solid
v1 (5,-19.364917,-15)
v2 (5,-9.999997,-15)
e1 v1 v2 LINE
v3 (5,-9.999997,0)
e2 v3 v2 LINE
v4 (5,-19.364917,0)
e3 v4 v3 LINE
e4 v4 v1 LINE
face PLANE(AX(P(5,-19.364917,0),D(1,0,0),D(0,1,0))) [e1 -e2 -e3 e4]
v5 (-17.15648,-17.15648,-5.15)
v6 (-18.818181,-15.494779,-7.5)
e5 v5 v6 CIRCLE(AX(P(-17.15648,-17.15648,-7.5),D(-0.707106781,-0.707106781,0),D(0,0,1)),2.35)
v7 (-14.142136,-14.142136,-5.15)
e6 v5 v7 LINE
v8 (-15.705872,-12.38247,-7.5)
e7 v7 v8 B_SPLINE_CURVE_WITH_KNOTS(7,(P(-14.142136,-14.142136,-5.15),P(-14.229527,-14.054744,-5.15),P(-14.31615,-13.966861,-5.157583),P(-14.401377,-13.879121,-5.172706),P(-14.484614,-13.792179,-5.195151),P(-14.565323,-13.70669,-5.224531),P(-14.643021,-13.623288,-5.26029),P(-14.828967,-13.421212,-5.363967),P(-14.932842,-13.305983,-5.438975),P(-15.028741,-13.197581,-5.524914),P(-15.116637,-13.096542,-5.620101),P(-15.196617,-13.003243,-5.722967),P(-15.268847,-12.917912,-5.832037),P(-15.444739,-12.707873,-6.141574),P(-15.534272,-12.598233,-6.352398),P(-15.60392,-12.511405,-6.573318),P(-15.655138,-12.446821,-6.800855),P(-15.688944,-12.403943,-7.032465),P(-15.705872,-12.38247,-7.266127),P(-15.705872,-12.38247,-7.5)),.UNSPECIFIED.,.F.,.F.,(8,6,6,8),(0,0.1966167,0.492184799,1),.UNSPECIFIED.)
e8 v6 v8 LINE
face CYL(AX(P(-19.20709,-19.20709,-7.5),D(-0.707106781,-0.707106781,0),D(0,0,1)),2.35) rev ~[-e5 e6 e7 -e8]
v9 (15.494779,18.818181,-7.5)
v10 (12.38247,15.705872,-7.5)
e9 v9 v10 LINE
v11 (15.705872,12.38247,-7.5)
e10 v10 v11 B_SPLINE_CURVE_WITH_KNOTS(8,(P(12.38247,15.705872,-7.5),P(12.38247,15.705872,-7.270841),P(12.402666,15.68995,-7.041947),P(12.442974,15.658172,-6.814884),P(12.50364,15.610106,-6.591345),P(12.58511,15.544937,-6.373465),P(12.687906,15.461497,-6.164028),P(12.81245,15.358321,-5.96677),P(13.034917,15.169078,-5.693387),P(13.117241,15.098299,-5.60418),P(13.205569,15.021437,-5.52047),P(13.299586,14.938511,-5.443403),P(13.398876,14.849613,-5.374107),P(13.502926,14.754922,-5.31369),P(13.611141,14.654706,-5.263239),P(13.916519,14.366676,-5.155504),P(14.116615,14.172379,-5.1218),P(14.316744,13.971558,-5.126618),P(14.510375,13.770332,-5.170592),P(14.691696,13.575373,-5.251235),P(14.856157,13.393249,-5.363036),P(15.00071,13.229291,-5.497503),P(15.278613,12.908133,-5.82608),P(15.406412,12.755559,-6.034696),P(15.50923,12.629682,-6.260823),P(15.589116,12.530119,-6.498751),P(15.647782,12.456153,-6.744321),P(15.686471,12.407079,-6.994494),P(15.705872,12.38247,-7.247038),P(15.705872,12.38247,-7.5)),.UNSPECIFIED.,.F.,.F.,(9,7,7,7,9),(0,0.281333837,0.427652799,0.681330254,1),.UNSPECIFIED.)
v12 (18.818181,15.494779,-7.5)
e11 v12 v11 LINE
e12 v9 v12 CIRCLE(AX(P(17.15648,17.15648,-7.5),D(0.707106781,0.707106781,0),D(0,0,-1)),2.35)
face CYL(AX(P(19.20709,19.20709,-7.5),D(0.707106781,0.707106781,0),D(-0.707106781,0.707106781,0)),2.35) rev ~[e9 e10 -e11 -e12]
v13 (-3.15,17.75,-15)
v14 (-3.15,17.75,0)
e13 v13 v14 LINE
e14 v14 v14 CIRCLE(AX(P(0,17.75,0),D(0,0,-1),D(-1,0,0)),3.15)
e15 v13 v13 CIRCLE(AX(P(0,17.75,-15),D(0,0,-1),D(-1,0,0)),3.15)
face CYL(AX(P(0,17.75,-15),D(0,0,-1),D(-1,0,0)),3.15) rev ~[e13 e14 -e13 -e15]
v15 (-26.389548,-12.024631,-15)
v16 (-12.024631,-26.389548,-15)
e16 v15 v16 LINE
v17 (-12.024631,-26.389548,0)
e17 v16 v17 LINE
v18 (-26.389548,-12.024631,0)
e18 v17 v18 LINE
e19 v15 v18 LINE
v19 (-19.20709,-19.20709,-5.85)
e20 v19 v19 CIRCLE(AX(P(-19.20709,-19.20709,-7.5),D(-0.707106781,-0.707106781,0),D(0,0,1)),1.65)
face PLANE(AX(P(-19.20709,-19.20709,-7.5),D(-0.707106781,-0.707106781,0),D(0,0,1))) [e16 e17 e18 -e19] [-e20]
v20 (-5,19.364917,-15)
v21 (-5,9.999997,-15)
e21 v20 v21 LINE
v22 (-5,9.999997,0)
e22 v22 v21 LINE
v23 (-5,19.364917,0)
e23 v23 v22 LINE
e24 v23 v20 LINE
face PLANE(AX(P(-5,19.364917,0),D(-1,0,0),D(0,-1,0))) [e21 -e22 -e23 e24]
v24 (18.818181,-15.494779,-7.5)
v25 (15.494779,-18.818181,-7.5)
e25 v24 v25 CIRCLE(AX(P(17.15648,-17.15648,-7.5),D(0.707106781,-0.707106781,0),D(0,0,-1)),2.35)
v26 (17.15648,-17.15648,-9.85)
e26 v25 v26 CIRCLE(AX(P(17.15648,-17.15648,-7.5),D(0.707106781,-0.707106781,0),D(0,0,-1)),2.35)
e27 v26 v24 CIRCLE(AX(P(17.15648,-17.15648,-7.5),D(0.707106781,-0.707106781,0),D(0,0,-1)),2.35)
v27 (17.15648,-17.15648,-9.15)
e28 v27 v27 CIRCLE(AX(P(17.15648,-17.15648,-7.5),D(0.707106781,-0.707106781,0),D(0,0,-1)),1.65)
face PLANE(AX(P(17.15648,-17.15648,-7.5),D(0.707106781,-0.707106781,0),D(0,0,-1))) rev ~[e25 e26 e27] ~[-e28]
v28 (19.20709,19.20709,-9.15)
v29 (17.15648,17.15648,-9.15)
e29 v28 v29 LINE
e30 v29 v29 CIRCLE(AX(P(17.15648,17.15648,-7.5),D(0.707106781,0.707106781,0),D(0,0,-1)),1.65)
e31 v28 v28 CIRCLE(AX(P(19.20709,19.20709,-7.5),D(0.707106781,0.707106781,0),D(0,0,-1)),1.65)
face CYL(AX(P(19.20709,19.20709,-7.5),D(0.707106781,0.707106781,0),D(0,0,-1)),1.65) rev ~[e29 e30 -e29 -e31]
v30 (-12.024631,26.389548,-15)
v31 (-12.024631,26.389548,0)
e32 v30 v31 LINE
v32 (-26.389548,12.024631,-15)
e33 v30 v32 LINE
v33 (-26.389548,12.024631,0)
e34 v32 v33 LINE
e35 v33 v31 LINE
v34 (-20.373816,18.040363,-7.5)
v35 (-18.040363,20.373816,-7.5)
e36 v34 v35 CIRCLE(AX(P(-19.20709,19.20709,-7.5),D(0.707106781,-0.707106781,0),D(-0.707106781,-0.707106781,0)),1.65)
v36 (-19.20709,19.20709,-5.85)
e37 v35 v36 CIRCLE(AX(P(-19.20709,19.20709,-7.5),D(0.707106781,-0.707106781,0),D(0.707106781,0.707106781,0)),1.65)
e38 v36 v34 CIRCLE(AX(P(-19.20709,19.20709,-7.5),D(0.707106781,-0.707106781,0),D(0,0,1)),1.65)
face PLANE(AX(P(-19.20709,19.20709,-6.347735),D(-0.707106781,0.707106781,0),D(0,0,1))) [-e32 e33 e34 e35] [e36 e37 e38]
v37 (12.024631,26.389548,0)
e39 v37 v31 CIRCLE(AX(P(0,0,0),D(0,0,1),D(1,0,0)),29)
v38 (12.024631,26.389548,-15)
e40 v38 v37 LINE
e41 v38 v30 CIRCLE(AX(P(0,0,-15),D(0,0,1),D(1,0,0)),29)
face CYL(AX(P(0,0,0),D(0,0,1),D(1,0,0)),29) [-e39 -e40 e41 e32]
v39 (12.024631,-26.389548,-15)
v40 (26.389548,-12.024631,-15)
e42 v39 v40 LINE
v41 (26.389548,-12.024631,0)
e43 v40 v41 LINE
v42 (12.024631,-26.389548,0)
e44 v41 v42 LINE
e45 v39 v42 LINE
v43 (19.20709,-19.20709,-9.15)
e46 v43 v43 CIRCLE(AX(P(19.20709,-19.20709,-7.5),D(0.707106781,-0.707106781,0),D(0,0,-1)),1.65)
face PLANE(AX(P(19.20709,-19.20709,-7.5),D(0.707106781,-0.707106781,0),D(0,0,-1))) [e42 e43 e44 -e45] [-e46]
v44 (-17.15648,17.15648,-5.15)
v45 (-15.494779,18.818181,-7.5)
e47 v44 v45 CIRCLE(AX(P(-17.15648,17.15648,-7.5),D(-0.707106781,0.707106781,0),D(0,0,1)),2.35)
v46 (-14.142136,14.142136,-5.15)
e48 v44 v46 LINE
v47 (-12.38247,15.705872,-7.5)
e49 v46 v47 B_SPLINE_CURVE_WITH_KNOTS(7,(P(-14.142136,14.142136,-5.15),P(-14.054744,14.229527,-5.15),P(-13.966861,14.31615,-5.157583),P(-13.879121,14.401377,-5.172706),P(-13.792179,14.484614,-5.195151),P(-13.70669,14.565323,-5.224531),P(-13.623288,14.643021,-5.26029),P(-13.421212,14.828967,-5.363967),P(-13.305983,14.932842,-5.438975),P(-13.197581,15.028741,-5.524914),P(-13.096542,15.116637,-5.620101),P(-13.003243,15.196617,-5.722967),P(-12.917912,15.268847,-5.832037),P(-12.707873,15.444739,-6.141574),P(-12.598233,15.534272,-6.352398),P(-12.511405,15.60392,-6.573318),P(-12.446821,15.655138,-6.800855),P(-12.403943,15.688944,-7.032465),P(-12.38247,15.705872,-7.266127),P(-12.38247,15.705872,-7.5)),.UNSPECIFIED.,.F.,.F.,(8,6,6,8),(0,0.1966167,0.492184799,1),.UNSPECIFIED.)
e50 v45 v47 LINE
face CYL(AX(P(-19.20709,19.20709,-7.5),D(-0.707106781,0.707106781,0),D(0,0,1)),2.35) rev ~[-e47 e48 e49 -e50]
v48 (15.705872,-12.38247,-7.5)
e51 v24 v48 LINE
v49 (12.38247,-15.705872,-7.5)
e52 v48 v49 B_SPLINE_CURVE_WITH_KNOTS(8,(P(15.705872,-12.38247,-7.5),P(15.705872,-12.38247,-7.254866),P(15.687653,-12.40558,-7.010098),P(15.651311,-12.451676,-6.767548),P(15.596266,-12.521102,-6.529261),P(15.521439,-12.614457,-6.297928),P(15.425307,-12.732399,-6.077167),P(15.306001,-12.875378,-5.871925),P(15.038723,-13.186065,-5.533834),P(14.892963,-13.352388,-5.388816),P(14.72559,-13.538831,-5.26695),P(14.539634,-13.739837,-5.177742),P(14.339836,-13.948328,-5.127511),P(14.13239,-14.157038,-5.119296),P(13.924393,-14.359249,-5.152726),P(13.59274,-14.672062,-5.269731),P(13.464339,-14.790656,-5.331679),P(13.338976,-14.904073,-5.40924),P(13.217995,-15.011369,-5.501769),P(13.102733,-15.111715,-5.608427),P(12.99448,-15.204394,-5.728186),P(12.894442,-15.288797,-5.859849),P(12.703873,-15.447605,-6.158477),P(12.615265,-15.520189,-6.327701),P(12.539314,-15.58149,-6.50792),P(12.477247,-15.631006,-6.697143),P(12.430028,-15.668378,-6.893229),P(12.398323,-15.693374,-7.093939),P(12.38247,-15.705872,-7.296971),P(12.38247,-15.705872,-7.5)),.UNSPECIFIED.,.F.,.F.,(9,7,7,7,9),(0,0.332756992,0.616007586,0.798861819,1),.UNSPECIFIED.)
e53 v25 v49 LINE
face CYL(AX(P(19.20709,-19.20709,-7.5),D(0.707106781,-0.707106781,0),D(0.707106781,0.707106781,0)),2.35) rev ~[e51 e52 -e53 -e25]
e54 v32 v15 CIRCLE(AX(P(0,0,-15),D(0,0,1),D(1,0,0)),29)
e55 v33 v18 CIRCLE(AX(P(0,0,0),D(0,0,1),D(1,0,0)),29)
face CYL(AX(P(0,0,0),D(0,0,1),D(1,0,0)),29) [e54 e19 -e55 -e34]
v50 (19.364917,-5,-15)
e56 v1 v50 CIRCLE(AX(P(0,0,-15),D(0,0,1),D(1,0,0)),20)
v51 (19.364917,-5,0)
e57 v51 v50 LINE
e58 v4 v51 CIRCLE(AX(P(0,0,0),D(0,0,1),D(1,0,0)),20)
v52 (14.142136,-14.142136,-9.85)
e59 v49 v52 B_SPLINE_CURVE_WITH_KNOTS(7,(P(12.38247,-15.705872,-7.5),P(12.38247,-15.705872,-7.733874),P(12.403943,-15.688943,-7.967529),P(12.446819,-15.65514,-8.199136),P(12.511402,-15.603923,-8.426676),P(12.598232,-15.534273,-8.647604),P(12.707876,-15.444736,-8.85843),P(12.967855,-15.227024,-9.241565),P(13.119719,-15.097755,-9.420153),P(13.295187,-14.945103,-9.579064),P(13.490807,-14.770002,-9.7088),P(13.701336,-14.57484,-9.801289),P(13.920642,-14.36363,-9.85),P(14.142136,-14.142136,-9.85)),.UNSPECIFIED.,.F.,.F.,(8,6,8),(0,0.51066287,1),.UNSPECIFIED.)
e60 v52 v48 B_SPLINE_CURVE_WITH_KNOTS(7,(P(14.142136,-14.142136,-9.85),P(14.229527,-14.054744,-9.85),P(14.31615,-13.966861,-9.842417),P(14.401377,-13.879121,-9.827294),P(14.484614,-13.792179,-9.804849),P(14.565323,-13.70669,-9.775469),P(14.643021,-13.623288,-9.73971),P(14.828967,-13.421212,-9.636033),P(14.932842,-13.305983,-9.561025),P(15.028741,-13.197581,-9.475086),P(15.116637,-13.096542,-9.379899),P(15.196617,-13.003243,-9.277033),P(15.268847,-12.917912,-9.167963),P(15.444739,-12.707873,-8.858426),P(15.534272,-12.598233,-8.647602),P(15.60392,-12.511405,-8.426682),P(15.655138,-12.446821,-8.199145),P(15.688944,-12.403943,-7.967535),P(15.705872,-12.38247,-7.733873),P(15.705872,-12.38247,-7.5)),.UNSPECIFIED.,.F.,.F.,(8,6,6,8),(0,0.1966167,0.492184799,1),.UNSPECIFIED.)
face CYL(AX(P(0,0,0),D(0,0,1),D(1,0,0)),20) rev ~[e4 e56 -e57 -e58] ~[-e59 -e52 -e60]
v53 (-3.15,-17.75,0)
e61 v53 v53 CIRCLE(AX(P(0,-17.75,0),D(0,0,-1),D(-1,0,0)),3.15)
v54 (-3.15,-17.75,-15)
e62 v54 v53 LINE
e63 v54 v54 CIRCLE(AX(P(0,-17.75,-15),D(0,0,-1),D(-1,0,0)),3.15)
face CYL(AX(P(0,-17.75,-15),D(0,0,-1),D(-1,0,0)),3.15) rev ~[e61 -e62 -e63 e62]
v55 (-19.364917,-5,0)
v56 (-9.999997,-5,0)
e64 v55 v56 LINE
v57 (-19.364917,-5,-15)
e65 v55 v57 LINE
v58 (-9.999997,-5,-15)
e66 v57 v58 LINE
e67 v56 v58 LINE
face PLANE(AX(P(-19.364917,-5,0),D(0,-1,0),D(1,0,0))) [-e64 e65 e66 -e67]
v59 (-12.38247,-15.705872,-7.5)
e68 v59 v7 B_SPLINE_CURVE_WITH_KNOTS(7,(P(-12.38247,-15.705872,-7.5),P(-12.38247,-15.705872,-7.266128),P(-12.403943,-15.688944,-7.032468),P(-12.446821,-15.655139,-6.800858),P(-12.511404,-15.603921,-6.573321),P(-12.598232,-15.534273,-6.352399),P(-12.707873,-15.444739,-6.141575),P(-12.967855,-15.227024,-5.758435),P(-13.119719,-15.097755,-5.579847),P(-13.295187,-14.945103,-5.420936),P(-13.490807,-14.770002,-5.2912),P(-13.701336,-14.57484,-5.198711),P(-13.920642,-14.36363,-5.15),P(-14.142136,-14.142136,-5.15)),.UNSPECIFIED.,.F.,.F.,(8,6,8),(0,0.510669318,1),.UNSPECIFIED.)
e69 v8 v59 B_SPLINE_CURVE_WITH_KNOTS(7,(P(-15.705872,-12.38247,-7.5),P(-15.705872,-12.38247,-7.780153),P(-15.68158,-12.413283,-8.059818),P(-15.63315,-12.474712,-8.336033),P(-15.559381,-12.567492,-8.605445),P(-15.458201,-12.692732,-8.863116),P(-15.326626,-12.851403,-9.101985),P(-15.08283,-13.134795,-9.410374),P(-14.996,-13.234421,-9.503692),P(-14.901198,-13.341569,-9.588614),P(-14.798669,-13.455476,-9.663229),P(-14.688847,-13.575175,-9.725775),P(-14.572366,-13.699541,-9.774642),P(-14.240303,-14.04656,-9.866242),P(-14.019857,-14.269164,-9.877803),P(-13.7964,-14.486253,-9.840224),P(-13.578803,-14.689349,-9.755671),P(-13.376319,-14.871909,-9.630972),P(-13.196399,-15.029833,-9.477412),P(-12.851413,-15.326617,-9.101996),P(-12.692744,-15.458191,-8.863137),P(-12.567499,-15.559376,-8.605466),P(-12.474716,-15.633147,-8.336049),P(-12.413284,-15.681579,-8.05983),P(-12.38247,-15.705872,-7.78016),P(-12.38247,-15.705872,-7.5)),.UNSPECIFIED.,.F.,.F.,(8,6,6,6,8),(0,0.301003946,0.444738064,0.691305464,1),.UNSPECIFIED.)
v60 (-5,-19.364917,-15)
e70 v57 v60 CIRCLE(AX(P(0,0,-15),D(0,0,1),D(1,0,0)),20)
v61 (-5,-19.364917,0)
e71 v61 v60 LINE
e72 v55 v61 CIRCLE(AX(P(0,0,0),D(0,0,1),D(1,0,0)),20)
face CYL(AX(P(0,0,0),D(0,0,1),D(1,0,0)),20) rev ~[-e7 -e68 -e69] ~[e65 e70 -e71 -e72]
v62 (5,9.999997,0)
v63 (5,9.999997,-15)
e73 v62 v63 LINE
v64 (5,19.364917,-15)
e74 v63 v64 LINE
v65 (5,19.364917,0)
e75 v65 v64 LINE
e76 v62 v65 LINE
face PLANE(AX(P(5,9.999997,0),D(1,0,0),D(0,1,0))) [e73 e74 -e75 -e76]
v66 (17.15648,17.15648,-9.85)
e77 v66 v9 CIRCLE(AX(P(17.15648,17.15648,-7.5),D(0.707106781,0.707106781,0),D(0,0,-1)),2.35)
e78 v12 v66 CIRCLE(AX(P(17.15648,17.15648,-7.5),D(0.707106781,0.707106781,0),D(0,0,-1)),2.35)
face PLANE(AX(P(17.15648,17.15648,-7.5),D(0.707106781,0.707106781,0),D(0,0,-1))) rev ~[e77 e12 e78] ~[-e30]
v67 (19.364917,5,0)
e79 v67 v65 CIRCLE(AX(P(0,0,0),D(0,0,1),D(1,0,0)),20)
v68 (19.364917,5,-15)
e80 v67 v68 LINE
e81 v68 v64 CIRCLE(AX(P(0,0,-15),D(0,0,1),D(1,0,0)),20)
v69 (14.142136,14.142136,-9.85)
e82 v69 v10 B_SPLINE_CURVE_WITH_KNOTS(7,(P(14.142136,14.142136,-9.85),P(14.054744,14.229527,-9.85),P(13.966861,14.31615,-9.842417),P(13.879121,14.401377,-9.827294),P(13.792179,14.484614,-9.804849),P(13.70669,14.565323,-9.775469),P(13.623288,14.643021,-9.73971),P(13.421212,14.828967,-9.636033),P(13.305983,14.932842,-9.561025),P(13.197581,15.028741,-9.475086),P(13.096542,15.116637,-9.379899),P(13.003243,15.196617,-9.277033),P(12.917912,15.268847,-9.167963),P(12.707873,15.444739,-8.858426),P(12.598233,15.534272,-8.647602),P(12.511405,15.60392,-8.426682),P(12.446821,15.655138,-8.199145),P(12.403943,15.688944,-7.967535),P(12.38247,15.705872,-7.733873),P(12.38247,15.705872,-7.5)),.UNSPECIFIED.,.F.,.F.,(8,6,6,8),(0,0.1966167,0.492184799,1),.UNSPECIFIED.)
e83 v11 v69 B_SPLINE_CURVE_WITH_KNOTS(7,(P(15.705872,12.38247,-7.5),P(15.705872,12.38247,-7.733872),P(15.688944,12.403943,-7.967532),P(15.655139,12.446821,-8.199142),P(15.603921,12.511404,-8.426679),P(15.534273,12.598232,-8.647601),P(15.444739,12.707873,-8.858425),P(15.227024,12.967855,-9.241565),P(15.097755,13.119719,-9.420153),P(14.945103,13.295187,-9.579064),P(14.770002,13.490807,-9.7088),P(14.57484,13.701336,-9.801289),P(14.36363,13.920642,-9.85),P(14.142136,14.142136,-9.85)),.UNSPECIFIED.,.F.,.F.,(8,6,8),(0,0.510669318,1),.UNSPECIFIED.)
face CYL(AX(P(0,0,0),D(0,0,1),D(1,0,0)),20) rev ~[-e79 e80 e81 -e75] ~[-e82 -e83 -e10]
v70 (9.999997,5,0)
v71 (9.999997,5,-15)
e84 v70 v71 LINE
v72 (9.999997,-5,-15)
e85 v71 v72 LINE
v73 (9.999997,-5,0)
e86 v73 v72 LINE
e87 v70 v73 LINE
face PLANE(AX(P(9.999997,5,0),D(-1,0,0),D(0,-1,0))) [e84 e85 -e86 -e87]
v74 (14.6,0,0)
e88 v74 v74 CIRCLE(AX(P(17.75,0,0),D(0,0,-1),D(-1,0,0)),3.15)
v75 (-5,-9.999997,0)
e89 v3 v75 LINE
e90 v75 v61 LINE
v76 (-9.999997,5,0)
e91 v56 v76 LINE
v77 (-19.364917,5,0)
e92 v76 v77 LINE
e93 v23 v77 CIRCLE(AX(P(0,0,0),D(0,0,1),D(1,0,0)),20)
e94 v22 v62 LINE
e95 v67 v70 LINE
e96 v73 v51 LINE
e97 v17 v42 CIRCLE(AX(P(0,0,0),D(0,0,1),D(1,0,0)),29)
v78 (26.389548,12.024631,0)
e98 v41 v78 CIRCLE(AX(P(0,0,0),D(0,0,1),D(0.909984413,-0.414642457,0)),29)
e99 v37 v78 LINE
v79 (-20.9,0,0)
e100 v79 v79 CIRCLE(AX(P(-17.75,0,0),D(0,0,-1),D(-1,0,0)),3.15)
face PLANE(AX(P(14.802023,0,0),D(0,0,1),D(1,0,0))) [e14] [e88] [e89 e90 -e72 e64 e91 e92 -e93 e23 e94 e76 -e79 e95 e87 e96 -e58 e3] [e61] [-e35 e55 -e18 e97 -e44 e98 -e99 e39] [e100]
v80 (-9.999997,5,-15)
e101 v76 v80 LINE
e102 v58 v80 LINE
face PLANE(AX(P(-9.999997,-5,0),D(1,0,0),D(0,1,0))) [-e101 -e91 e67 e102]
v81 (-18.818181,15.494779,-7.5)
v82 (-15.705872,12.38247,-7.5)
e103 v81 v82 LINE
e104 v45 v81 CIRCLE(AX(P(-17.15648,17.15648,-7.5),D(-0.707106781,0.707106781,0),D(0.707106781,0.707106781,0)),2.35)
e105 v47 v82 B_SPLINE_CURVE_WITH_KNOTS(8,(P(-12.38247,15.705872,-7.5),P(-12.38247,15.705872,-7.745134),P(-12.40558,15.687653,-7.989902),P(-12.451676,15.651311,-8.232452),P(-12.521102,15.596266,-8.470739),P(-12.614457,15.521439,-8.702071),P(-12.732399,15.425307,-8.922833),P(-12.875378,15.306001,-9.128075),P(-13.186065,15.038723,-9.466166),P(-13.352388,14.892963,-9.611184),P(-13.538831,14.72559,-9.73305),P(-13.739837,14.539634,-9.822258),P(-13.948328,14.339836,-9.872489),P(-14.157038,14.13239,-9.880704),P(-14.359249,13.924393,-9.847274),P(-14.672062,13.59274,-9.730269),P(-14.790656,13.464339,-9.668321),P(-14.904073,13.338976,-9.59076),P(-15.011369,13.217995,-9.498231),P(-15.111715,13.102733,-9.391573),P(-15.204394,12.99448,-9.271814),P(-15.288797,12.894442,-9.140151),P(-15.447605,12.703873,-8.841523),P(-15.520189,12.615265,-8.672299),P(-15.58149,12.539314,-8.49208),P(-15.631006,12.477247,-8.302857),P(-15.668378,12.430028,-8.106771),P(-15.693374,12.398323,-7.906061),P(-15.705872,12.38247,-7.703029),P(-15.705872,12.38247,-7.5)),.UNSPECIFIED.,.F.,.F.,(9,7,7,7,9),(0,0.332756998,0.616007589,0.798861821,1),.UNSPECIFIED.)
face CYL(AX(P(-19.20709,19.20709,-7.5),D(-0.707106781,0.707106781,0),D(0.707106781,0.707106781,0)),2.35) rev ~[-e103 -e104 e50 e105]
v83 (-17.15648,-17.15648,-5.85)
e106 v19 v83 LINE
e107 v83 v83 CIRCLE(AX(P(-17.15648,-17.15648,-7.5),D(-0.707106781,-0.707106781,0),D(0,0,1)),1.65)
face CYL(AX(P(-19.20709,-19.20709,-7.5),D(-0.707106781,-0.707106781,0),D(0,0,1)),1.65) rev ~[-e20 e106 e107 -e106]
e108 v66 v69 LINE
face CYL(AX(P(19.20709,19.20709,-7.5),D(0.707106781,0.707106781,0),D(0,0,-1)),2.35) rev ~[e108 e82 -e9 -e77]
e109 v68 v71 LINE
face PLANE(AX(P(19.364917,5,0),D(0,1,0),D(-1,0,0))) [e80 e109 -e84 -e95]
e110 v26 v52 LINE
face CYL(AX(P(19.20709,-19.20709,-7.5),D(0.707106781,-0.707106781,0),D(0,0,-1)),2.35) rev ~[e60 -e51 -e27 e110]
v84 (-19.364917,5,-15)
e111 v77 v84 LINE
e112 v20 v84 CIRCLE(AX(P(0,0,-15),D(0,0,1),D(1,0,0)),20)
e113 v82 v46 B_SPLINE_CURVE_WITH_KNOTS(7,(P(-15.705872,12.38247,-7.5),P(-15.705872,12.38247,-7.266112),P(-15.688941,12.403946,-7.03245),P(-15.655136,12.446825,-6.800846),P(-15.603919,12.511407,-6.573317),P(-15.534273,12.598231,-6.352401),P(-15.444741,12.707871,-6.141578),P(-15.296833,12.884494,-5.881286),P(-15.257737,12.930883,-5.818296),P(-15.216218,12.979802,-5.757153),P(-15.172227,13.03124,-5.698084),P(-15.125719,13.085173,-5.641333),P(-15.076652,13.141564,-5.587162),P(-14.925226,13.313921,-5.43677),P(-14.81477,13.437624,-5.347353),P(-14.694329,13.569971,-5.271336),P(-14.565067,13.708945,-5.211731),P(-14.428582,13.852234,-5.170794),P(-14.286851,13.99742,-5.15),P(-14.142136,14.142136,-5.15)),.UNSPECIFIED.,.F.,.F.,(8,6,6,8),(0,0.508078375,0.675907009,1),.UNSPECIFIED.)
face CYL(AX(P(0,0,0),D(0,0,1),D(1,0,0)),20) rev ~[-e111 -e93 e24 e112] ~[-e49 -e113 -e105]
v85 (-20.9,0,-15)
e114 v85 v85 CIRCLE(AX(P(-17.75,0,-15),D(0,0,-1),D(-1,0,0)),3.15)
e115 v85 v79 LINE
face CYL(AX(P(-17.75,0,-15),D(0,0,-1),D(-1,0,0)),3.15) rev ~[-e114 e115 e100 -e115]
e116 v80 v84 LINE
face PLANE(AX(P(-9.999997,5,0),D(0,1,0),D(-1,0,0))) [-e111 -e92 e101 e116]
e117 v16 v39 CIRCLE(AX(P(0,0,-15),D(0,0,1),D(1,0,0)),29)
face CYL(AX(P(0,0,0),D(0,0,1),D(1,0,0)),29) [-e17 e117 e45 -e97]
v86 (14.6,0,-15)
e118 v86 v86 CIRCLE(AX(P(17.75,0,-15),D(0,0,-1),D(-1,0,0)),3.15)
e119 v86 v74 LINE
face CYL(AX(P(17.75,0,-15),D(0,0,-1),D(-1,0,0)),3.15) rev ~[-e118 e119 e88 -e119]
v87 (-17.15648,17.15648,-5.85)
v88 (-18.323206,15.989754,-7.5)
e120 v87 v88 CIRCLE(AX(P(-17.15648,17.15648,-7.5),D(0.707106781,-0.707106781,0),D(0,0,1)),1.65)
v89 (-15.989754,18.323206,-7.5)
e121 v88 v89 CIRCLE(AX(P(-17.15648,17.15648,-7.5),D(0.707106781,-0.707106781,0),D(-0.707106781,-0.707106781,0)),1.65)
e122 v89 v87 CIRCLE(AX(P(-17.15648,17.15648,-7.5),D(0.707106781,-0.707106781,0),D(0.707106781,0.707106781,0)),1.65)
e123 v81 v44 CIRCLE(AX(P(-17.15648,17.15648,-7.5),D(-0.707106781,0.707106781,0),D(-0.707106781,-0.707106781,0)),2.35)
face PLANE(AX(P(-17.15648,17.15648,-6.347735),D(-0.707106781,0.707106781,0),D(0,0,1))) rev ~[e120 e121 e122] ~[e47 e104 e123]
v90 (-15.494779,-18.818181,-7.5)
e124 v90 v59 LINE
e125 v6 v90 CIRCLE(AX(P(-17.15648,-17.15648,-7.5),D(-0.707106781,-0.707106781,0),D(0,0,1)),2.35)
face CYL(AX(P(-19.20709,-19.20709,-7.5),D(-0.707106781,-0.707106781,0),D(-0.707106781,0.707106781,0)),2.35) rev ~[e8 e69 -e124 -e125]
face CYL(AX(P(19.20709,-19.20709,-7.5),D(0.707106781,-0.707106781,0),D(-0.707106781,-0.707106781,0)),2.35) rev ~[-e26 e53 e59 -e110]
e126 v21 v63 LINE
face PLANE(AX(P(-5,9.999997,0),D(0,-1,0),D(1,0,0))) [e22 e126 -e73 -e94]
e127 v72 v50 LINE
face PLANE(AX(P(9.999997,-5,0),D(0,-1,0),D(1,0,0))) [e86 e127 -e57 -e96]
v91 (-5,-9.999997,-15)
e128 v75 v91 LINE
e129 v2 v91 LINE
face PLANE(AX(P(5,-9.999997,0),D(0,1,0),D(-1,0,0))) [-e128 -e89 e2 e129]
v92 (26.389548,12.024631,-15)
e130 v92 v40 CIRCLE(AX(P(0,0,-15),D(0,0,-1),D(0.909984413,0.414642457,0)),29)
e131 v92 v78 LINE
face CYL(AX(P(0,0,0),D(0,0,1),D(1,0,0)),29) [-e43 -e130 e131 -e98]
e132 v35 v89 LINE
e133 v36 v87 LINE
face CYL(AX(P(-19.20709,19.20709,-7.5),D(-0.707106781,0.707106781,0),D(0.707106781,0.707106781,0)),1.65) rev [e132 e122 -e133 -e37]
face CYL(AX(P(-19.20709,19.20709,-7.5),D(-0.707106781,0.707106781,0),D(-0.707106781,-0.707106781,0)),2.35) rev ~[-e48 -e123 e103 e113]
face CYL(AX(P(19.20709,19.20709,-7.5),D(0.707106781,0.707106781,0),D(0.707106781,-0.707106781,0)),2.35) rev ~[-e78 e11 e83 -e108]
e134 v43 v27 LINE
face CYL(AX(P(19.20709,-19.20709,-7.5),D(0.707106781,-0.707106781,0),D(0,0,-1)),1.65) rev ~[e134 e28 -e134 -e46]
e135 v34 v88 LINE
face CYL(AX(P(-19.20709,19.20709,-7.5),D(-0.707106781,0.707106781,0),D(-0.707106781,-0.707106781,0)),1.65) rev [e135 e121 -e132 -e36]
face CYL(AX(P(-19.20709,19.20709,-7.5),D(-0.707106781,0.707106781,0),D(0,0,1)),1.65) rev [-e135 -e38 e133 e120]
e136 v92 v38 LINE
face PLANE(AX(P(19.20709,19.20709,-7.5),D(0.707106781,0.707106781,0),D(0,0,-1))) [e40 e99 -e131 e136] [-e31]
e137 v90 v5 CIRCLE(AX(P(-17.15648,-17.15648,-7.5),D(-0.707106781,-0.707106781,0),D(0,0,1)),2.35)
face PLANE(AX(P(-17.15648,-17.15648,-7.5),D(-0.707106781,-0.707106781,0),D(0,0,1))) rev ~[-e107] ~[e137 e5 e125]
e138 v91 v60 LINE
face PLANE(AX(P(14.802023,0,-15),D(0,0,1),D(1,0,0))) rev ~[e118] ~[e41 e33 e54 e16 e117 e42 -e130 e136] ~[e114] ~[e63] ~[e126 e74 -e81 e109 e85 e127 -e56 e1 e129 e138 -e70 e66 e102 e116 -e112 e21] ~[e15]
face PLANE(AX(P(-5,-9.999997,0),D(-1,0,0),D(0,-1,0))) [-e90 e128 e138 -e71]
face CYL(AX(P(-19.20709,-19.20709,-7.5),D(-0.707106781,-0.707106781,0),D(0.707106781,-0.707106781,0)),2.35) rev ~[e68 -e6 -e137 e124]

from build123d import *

# Parameters (mm, degrees)
SKETCH6_R                 = 29
SKETCH6_R_2               = 20
INNER_RING_DEPTH          = 15
MOTOR_CONNECTOR_CUT_DEPTH = 15
SKETCH10_R                = 3.15
CUT_EXTRUDE2_DEPTH        = 55
CUT_EXTRUDE2_DEPTH_BACK   = 70
CUT_EXTRUDE4_DEPTH        = 22
CUT_EXTRUDE6_DEPTH        = 7.9
CUT_EXTRUDE5_DEPTH        = 22
SKETCH15_R                = 2.35
SKETCH15_R_2              = 1.65
BOSS_EXTRUDE1_DEPTH       = 2.9
BOSS_EXTRUDE3_DEPTH       = 2.9
CUT_EXTRUDE8_DEPTH        = 9.9
CUT_EXTRUDE7_DEPTH        = 8.9
SKETCH21_R                = 2.35
SKETCH21_R_2              = 1.65
BOSS_EXTRUDE5_DEPTH       = 2.9
SKETCH19_R                = 2.35
SKETCH19_R_2              = 1.65
BOSS_EXTRUDE4_DEPTH       = 2.9


with BuildPart() as part:
    # Sketch6 → Inner Ring (new body)
    with BuildSketch(Plane.XY):
        Circle(SKETCH6_R)
        Circle(SKETCH6_R_2, mode=Mode.SUBTRACT)
    extrude(amount=-INNER_RING_DEPTH)

    # Sketch7 → Motor Connector Cut (add)
    with BuildSketch(Plane.XY):
        with BuildLine():
            ThreePointArc((20, 0), (19.840593925, 2.52008585), (19.364916731, 5))
            Line((19.364916731, 5), (9.999996731, 5))
            Line((9.999996731, 5), (9.999996731, -5))
            Line((9.999996731, -5), (19.364916731, -5))
            ThreePointArc((19.364916731, -5), (19.840593925, -2.52008585), (20, 0))
        make_face()
        with BuildLine():
            ThreePointArc((5, 19.364916731), (0, 20), (-5, 19.364916731))
            Line((-5, 19.364916731), (-5, 9.999996731))
            Line((-5, 9.999996731), (5, 9.999996731))
            Line((5, 9.999996731), (5, 19.364916731))
        make_face()
        with BuildLine():
            Line((-9.999996731, -5), (-9.999996731, 5))
            Line((-9.999996731, 5), (-19.364916731, 5))
            ThreePointArc((-19.364916731, 5), (-20, 0), (-19.364916731, -5))
            Line((-19.364916731, -5), (-9.999996731, -5))
        make_face()
        with BuildLine():
            Line((-5, -9.999996731), (-5, -19.364916731))
            ThreePointArc((-5, -19.364916731), (0, -20), (5, -19.364916731))
            Line((5, -19.364916731), (5, -9.999996731))
            Line((5, -9.999996731), (-5, -9.999996731))
        make_face()
    extrude(amount=-MOTOR_CONNECTOR_CUT_DEPTH)

    # Sketch10 → Cut-Extrude2 (cut, two sides)
    with BuildSketch(Plane(origin=(0, 0, -15), x_dir=(-1, 0, 0), z_dir=(0, 0, -1))) as cut_extrude2_sk:
        with Locations((-17.75, 0)):
            Circle(SKETCH10_R)
        with Locations((0, 17.75)):
            Circle(SKETCH10_R)
        with Locations((17.75, 0)):
            Circle(SKETCH10_R)
        with Locations((0, -17.75)):
            Circle(SKETCH10_R)
    extrude(amount=CUT_EXTRUDE2_DEPTH, mode=Mode.SUBTRACT)
    extrude(cut_extrude2_sk.sketch, amount=-CUT_EXTRUDE2_DEPTH_BACK, mode=Mode.SUBTRACT)

    # Sketch9 → Cut-Extrude4 (cut)
    with BuildSketch(Plane(origin=(0, 0, -15), x_dir=(-1, 0, 0), z_dir=(0, 0, -1))):
        with BuildLine():
            Line((-26.38954799, 12.024631259), (-12.024631259, 26.38954799))
            ThreePointArc((-12.024631259, 26.38954799), (-20.506096654, 20.506096654), (-26.38954799, 12.024631259))
        make_face()
        with BuildLine():
            ThreePointArc((26.38954799, 12.024631259), (20.506096654, 20.506096654), (12.024631259, 26.38954799))
            Line((12.024631259, 26.38954799), (26.38954799, 12.024631259))
        make_face()
        with BuildLine():
            Line((-12.024631259, -26.38954799), (-26.38954799, -12.024631259))
            ThreePointArc((-26.38954799, -12.024631259), (-20.506096654, -20.506096654), (-12.024631259, -26.38954799))
        make_face()
        with BuildLine():
            Line((26.38954799, -12.024631259), (12.024631259, -26.38954799))
            ThreePointArc((12.024631259, -26.38954799), (20.506096654, -20.506096654), (26.38954799, -12.024631259))
        make_face()
    extrude(amount=-CUT_EXTRUDE4_DEPTH, mode=Mode.SUBTRACT)

    # Sketch16 → Cut-Extrude6 (cut)
    with BuildSketch(Plane(origin=(-19.207089624, 19.207089624, 0), x_dir=(0, 0, 1), z_dir=(-0.707106781, 0.707106781, 0))):
        with BuildLine():
            ThreePointArc((-5.15, 0), (-5.838299064, 1.661700936), (-7.5, 2.35))
            Line((-7.5, 2.35), (-7.5, -2.35))
            ThreePointArc((-7.5, -2.35), (-5.838299064, -1.661700936), (-5.15, 0))
        make_face()
        with BuildLine():
            Line((-7.5, -2.35), (-7.5, 2.35))
            ThreePointArc((-7.5, 2.35), (-9.85, 0), (-7.5, -2.35))
        make_face()
    extrude(amount=-CUT_EXTRUDE6_DEPTH, mode=Mode.SUBTRACT)

    # Sketch14 → Cut-Extrude5 (cut)
    with BuildSketch(Plane(origin=(19.207089624, 19.207089624, 0), x_dir=(0, 0, -1), z_dir=(0.707106781, 0.707106781, 0))):
        with BuildLine():
            ThreePointArc((9.85, 0), (9.161700936, 1.661700936), (7.5, 2.35))
            Line((7.5, 2.35), (7.5, -2.35))
            ThreePointArc((7.5, -2.35), (9.161700936, -1.661700936), (9.85, 0))
        make_face()
        with BuildLine():
            Line((7.5, -2.35), (7.5, 2.35))
            ThreePointArc((7.5, 2.35), (5.15, 0), (7.5, -2.35))
        make_face()
    extrude(amount=-CUT_EXTRUDE5_DEPTH, mode=Mode.SUBTRACT)

    # Sketch15 → Boss-Extrude1 (add)
    with BuildSketch(Plane(origin=(19.207089624, 19.207089624, 0), x_dir=(0, 0, -1), z_dir=(0.707106781, 0.707106781, 0))):
        with Locations((7.5, 0)):
            Circle(SKETCH15_R)
        with Locations((7.5, 0)):
            Circle(SKETCH15_R_2, mode=Mode.SUBTRACT)
    extrude(amount=-BOSS_EXTRUDE1_DEPTH)

    # Sketch17 → Boss-Extrude3 (add)
    with BuildSketch(Plane(origin=(-19.207089624, 19.207089624, 0), x_dir=(0, 0, 1), z_dir=(-0.707106781, 0.707106781, 0))):
        with BuildLine():
            ThreePointArc((-5.15, 0), (-5.838299064, 1.661700936), (-7.5, 2.35))
            Line((-7.5, 2.35), (-7.5, 1.65))
            ThreePointArc((-7.5, 1.65), (-6.333273811, 1.166726189), (-5.85, 0))
            ThreePointArc((-5.85, 0), (-6.333273811, -1.166726189), (-7.5, -1.65))
            Line((-7.5, -1.65), (-7.5, -2.35))
            ThreePointArc((-7.5, -2.35), (-5.838299064, -1.661700936), (-5.15, 0))
        make_face()
        with BuildLine():
            Line((-7.5, 1.65), (-7.5, 2.35))
            ThreePointArc((-7.5, 2.35), (-9.85, 0), (-7.5, -2.35))
            Line((-7.5, -2.35), (-7.5, -1.65))
            ThreePointArc((-7.5, -1.65), (-9.15, 0), (-7.5, 1.65))
        make_face()
    extrude(amount=-BOSS_EXTRUDE3_DEPTH)

    # Sketch20 → Cut-Extrude8 (cut)
    with BuildSketch(Plane(origin=(-19.207089624, -19.207089624, 0), x_dir=(0, 0, 1), z_dir=(-0.707106781, -0.707106781, 0))):
        with BuildLine():
            ThreePointArc((-5.15, 0), (-5.838299064, 1.661700936), (-7.5, 2.35))
            Line((-7.5, 2.35), (-7.5, -2.35))
            ThreePointArc((-7.5, -2.35), (-5.838299064, -1.661700936), (-5.15, 0))
        make_face()
        with BuildLine():
            Line((-7.5, -2.35), (-7.5, 2.35))
            ThreePointArc((-7.5, 2.35), (-9.85, 0), (-7.5, -2.35))
        make_face()
    extrude(amount=-CUT_EXTRUDE8_DEPTH, mode=Mode.SUBTRACT)

    # Sketch18 → Cut-Extrude7 (cut)
    with BuildSketch(Plane(origin=(19.207089624, -19.207089624, 0), x_dir=(0, 0, -1), z_dir=(0.707106781, -0.707106781, 0))):
        with BuildLine():
            ThreePointArc((9.85, 0), (9.161700936, 1.661700936), (7.5, 2.35))
            Line((7.5, 2.35), (7.5, -2.35))
            ThreePointArc((7.5, -2.35), (9.161700936, -1.661700936), (9.85, 0))
        make_face()
        with BuildLine():
            Line((7.5, -2.35), (7.5, 2.35))
            ThreePointArc((7.5, 2.35), (5.15, 0), (7.5, -2.35))
        make_face()
    extrude(amount=-CUT_EXTRUDE7_DEPTH, mode=Mode.SUBTRACT)

    # Sketch21 → Boss-Extrude5 (add)
    with BuildSketch(Plane(origin=(-19.207089624, -19.207089624, 0), x_dir=(0, 0, 1), z_dir=(-0.707106781, -0.707106781, 0))):
        with Locations((-7.5, 0)):
            Circle(SKETCH21_R)
        with Locations((-7.5, 0)):
            Circle(SKETCH21_R_2, mode=Mode.SUBTRACT)
    extrude(amount=-BOSS_EXTRUDE5_DEPTH)

    # Sketch19 → Boss-Extrude4 (add)
    with BuildSketch(Plane(origin=(19.207089624, -19.207089624, 0), x_dir=(0, 0, -1), z_dir=(0.707106781, -0.707106781, 0))):
        with Locations((7.5, 0)):
            Circle(SKETCH19_R)
        with Locations((7.5, 0)):
            Circle(SKETCH19_R_2, mode=Mode.SUBTRACT)
    extrude(amount=-BOSS_EXTRUDE4_DEPTH)


solid = part.part
